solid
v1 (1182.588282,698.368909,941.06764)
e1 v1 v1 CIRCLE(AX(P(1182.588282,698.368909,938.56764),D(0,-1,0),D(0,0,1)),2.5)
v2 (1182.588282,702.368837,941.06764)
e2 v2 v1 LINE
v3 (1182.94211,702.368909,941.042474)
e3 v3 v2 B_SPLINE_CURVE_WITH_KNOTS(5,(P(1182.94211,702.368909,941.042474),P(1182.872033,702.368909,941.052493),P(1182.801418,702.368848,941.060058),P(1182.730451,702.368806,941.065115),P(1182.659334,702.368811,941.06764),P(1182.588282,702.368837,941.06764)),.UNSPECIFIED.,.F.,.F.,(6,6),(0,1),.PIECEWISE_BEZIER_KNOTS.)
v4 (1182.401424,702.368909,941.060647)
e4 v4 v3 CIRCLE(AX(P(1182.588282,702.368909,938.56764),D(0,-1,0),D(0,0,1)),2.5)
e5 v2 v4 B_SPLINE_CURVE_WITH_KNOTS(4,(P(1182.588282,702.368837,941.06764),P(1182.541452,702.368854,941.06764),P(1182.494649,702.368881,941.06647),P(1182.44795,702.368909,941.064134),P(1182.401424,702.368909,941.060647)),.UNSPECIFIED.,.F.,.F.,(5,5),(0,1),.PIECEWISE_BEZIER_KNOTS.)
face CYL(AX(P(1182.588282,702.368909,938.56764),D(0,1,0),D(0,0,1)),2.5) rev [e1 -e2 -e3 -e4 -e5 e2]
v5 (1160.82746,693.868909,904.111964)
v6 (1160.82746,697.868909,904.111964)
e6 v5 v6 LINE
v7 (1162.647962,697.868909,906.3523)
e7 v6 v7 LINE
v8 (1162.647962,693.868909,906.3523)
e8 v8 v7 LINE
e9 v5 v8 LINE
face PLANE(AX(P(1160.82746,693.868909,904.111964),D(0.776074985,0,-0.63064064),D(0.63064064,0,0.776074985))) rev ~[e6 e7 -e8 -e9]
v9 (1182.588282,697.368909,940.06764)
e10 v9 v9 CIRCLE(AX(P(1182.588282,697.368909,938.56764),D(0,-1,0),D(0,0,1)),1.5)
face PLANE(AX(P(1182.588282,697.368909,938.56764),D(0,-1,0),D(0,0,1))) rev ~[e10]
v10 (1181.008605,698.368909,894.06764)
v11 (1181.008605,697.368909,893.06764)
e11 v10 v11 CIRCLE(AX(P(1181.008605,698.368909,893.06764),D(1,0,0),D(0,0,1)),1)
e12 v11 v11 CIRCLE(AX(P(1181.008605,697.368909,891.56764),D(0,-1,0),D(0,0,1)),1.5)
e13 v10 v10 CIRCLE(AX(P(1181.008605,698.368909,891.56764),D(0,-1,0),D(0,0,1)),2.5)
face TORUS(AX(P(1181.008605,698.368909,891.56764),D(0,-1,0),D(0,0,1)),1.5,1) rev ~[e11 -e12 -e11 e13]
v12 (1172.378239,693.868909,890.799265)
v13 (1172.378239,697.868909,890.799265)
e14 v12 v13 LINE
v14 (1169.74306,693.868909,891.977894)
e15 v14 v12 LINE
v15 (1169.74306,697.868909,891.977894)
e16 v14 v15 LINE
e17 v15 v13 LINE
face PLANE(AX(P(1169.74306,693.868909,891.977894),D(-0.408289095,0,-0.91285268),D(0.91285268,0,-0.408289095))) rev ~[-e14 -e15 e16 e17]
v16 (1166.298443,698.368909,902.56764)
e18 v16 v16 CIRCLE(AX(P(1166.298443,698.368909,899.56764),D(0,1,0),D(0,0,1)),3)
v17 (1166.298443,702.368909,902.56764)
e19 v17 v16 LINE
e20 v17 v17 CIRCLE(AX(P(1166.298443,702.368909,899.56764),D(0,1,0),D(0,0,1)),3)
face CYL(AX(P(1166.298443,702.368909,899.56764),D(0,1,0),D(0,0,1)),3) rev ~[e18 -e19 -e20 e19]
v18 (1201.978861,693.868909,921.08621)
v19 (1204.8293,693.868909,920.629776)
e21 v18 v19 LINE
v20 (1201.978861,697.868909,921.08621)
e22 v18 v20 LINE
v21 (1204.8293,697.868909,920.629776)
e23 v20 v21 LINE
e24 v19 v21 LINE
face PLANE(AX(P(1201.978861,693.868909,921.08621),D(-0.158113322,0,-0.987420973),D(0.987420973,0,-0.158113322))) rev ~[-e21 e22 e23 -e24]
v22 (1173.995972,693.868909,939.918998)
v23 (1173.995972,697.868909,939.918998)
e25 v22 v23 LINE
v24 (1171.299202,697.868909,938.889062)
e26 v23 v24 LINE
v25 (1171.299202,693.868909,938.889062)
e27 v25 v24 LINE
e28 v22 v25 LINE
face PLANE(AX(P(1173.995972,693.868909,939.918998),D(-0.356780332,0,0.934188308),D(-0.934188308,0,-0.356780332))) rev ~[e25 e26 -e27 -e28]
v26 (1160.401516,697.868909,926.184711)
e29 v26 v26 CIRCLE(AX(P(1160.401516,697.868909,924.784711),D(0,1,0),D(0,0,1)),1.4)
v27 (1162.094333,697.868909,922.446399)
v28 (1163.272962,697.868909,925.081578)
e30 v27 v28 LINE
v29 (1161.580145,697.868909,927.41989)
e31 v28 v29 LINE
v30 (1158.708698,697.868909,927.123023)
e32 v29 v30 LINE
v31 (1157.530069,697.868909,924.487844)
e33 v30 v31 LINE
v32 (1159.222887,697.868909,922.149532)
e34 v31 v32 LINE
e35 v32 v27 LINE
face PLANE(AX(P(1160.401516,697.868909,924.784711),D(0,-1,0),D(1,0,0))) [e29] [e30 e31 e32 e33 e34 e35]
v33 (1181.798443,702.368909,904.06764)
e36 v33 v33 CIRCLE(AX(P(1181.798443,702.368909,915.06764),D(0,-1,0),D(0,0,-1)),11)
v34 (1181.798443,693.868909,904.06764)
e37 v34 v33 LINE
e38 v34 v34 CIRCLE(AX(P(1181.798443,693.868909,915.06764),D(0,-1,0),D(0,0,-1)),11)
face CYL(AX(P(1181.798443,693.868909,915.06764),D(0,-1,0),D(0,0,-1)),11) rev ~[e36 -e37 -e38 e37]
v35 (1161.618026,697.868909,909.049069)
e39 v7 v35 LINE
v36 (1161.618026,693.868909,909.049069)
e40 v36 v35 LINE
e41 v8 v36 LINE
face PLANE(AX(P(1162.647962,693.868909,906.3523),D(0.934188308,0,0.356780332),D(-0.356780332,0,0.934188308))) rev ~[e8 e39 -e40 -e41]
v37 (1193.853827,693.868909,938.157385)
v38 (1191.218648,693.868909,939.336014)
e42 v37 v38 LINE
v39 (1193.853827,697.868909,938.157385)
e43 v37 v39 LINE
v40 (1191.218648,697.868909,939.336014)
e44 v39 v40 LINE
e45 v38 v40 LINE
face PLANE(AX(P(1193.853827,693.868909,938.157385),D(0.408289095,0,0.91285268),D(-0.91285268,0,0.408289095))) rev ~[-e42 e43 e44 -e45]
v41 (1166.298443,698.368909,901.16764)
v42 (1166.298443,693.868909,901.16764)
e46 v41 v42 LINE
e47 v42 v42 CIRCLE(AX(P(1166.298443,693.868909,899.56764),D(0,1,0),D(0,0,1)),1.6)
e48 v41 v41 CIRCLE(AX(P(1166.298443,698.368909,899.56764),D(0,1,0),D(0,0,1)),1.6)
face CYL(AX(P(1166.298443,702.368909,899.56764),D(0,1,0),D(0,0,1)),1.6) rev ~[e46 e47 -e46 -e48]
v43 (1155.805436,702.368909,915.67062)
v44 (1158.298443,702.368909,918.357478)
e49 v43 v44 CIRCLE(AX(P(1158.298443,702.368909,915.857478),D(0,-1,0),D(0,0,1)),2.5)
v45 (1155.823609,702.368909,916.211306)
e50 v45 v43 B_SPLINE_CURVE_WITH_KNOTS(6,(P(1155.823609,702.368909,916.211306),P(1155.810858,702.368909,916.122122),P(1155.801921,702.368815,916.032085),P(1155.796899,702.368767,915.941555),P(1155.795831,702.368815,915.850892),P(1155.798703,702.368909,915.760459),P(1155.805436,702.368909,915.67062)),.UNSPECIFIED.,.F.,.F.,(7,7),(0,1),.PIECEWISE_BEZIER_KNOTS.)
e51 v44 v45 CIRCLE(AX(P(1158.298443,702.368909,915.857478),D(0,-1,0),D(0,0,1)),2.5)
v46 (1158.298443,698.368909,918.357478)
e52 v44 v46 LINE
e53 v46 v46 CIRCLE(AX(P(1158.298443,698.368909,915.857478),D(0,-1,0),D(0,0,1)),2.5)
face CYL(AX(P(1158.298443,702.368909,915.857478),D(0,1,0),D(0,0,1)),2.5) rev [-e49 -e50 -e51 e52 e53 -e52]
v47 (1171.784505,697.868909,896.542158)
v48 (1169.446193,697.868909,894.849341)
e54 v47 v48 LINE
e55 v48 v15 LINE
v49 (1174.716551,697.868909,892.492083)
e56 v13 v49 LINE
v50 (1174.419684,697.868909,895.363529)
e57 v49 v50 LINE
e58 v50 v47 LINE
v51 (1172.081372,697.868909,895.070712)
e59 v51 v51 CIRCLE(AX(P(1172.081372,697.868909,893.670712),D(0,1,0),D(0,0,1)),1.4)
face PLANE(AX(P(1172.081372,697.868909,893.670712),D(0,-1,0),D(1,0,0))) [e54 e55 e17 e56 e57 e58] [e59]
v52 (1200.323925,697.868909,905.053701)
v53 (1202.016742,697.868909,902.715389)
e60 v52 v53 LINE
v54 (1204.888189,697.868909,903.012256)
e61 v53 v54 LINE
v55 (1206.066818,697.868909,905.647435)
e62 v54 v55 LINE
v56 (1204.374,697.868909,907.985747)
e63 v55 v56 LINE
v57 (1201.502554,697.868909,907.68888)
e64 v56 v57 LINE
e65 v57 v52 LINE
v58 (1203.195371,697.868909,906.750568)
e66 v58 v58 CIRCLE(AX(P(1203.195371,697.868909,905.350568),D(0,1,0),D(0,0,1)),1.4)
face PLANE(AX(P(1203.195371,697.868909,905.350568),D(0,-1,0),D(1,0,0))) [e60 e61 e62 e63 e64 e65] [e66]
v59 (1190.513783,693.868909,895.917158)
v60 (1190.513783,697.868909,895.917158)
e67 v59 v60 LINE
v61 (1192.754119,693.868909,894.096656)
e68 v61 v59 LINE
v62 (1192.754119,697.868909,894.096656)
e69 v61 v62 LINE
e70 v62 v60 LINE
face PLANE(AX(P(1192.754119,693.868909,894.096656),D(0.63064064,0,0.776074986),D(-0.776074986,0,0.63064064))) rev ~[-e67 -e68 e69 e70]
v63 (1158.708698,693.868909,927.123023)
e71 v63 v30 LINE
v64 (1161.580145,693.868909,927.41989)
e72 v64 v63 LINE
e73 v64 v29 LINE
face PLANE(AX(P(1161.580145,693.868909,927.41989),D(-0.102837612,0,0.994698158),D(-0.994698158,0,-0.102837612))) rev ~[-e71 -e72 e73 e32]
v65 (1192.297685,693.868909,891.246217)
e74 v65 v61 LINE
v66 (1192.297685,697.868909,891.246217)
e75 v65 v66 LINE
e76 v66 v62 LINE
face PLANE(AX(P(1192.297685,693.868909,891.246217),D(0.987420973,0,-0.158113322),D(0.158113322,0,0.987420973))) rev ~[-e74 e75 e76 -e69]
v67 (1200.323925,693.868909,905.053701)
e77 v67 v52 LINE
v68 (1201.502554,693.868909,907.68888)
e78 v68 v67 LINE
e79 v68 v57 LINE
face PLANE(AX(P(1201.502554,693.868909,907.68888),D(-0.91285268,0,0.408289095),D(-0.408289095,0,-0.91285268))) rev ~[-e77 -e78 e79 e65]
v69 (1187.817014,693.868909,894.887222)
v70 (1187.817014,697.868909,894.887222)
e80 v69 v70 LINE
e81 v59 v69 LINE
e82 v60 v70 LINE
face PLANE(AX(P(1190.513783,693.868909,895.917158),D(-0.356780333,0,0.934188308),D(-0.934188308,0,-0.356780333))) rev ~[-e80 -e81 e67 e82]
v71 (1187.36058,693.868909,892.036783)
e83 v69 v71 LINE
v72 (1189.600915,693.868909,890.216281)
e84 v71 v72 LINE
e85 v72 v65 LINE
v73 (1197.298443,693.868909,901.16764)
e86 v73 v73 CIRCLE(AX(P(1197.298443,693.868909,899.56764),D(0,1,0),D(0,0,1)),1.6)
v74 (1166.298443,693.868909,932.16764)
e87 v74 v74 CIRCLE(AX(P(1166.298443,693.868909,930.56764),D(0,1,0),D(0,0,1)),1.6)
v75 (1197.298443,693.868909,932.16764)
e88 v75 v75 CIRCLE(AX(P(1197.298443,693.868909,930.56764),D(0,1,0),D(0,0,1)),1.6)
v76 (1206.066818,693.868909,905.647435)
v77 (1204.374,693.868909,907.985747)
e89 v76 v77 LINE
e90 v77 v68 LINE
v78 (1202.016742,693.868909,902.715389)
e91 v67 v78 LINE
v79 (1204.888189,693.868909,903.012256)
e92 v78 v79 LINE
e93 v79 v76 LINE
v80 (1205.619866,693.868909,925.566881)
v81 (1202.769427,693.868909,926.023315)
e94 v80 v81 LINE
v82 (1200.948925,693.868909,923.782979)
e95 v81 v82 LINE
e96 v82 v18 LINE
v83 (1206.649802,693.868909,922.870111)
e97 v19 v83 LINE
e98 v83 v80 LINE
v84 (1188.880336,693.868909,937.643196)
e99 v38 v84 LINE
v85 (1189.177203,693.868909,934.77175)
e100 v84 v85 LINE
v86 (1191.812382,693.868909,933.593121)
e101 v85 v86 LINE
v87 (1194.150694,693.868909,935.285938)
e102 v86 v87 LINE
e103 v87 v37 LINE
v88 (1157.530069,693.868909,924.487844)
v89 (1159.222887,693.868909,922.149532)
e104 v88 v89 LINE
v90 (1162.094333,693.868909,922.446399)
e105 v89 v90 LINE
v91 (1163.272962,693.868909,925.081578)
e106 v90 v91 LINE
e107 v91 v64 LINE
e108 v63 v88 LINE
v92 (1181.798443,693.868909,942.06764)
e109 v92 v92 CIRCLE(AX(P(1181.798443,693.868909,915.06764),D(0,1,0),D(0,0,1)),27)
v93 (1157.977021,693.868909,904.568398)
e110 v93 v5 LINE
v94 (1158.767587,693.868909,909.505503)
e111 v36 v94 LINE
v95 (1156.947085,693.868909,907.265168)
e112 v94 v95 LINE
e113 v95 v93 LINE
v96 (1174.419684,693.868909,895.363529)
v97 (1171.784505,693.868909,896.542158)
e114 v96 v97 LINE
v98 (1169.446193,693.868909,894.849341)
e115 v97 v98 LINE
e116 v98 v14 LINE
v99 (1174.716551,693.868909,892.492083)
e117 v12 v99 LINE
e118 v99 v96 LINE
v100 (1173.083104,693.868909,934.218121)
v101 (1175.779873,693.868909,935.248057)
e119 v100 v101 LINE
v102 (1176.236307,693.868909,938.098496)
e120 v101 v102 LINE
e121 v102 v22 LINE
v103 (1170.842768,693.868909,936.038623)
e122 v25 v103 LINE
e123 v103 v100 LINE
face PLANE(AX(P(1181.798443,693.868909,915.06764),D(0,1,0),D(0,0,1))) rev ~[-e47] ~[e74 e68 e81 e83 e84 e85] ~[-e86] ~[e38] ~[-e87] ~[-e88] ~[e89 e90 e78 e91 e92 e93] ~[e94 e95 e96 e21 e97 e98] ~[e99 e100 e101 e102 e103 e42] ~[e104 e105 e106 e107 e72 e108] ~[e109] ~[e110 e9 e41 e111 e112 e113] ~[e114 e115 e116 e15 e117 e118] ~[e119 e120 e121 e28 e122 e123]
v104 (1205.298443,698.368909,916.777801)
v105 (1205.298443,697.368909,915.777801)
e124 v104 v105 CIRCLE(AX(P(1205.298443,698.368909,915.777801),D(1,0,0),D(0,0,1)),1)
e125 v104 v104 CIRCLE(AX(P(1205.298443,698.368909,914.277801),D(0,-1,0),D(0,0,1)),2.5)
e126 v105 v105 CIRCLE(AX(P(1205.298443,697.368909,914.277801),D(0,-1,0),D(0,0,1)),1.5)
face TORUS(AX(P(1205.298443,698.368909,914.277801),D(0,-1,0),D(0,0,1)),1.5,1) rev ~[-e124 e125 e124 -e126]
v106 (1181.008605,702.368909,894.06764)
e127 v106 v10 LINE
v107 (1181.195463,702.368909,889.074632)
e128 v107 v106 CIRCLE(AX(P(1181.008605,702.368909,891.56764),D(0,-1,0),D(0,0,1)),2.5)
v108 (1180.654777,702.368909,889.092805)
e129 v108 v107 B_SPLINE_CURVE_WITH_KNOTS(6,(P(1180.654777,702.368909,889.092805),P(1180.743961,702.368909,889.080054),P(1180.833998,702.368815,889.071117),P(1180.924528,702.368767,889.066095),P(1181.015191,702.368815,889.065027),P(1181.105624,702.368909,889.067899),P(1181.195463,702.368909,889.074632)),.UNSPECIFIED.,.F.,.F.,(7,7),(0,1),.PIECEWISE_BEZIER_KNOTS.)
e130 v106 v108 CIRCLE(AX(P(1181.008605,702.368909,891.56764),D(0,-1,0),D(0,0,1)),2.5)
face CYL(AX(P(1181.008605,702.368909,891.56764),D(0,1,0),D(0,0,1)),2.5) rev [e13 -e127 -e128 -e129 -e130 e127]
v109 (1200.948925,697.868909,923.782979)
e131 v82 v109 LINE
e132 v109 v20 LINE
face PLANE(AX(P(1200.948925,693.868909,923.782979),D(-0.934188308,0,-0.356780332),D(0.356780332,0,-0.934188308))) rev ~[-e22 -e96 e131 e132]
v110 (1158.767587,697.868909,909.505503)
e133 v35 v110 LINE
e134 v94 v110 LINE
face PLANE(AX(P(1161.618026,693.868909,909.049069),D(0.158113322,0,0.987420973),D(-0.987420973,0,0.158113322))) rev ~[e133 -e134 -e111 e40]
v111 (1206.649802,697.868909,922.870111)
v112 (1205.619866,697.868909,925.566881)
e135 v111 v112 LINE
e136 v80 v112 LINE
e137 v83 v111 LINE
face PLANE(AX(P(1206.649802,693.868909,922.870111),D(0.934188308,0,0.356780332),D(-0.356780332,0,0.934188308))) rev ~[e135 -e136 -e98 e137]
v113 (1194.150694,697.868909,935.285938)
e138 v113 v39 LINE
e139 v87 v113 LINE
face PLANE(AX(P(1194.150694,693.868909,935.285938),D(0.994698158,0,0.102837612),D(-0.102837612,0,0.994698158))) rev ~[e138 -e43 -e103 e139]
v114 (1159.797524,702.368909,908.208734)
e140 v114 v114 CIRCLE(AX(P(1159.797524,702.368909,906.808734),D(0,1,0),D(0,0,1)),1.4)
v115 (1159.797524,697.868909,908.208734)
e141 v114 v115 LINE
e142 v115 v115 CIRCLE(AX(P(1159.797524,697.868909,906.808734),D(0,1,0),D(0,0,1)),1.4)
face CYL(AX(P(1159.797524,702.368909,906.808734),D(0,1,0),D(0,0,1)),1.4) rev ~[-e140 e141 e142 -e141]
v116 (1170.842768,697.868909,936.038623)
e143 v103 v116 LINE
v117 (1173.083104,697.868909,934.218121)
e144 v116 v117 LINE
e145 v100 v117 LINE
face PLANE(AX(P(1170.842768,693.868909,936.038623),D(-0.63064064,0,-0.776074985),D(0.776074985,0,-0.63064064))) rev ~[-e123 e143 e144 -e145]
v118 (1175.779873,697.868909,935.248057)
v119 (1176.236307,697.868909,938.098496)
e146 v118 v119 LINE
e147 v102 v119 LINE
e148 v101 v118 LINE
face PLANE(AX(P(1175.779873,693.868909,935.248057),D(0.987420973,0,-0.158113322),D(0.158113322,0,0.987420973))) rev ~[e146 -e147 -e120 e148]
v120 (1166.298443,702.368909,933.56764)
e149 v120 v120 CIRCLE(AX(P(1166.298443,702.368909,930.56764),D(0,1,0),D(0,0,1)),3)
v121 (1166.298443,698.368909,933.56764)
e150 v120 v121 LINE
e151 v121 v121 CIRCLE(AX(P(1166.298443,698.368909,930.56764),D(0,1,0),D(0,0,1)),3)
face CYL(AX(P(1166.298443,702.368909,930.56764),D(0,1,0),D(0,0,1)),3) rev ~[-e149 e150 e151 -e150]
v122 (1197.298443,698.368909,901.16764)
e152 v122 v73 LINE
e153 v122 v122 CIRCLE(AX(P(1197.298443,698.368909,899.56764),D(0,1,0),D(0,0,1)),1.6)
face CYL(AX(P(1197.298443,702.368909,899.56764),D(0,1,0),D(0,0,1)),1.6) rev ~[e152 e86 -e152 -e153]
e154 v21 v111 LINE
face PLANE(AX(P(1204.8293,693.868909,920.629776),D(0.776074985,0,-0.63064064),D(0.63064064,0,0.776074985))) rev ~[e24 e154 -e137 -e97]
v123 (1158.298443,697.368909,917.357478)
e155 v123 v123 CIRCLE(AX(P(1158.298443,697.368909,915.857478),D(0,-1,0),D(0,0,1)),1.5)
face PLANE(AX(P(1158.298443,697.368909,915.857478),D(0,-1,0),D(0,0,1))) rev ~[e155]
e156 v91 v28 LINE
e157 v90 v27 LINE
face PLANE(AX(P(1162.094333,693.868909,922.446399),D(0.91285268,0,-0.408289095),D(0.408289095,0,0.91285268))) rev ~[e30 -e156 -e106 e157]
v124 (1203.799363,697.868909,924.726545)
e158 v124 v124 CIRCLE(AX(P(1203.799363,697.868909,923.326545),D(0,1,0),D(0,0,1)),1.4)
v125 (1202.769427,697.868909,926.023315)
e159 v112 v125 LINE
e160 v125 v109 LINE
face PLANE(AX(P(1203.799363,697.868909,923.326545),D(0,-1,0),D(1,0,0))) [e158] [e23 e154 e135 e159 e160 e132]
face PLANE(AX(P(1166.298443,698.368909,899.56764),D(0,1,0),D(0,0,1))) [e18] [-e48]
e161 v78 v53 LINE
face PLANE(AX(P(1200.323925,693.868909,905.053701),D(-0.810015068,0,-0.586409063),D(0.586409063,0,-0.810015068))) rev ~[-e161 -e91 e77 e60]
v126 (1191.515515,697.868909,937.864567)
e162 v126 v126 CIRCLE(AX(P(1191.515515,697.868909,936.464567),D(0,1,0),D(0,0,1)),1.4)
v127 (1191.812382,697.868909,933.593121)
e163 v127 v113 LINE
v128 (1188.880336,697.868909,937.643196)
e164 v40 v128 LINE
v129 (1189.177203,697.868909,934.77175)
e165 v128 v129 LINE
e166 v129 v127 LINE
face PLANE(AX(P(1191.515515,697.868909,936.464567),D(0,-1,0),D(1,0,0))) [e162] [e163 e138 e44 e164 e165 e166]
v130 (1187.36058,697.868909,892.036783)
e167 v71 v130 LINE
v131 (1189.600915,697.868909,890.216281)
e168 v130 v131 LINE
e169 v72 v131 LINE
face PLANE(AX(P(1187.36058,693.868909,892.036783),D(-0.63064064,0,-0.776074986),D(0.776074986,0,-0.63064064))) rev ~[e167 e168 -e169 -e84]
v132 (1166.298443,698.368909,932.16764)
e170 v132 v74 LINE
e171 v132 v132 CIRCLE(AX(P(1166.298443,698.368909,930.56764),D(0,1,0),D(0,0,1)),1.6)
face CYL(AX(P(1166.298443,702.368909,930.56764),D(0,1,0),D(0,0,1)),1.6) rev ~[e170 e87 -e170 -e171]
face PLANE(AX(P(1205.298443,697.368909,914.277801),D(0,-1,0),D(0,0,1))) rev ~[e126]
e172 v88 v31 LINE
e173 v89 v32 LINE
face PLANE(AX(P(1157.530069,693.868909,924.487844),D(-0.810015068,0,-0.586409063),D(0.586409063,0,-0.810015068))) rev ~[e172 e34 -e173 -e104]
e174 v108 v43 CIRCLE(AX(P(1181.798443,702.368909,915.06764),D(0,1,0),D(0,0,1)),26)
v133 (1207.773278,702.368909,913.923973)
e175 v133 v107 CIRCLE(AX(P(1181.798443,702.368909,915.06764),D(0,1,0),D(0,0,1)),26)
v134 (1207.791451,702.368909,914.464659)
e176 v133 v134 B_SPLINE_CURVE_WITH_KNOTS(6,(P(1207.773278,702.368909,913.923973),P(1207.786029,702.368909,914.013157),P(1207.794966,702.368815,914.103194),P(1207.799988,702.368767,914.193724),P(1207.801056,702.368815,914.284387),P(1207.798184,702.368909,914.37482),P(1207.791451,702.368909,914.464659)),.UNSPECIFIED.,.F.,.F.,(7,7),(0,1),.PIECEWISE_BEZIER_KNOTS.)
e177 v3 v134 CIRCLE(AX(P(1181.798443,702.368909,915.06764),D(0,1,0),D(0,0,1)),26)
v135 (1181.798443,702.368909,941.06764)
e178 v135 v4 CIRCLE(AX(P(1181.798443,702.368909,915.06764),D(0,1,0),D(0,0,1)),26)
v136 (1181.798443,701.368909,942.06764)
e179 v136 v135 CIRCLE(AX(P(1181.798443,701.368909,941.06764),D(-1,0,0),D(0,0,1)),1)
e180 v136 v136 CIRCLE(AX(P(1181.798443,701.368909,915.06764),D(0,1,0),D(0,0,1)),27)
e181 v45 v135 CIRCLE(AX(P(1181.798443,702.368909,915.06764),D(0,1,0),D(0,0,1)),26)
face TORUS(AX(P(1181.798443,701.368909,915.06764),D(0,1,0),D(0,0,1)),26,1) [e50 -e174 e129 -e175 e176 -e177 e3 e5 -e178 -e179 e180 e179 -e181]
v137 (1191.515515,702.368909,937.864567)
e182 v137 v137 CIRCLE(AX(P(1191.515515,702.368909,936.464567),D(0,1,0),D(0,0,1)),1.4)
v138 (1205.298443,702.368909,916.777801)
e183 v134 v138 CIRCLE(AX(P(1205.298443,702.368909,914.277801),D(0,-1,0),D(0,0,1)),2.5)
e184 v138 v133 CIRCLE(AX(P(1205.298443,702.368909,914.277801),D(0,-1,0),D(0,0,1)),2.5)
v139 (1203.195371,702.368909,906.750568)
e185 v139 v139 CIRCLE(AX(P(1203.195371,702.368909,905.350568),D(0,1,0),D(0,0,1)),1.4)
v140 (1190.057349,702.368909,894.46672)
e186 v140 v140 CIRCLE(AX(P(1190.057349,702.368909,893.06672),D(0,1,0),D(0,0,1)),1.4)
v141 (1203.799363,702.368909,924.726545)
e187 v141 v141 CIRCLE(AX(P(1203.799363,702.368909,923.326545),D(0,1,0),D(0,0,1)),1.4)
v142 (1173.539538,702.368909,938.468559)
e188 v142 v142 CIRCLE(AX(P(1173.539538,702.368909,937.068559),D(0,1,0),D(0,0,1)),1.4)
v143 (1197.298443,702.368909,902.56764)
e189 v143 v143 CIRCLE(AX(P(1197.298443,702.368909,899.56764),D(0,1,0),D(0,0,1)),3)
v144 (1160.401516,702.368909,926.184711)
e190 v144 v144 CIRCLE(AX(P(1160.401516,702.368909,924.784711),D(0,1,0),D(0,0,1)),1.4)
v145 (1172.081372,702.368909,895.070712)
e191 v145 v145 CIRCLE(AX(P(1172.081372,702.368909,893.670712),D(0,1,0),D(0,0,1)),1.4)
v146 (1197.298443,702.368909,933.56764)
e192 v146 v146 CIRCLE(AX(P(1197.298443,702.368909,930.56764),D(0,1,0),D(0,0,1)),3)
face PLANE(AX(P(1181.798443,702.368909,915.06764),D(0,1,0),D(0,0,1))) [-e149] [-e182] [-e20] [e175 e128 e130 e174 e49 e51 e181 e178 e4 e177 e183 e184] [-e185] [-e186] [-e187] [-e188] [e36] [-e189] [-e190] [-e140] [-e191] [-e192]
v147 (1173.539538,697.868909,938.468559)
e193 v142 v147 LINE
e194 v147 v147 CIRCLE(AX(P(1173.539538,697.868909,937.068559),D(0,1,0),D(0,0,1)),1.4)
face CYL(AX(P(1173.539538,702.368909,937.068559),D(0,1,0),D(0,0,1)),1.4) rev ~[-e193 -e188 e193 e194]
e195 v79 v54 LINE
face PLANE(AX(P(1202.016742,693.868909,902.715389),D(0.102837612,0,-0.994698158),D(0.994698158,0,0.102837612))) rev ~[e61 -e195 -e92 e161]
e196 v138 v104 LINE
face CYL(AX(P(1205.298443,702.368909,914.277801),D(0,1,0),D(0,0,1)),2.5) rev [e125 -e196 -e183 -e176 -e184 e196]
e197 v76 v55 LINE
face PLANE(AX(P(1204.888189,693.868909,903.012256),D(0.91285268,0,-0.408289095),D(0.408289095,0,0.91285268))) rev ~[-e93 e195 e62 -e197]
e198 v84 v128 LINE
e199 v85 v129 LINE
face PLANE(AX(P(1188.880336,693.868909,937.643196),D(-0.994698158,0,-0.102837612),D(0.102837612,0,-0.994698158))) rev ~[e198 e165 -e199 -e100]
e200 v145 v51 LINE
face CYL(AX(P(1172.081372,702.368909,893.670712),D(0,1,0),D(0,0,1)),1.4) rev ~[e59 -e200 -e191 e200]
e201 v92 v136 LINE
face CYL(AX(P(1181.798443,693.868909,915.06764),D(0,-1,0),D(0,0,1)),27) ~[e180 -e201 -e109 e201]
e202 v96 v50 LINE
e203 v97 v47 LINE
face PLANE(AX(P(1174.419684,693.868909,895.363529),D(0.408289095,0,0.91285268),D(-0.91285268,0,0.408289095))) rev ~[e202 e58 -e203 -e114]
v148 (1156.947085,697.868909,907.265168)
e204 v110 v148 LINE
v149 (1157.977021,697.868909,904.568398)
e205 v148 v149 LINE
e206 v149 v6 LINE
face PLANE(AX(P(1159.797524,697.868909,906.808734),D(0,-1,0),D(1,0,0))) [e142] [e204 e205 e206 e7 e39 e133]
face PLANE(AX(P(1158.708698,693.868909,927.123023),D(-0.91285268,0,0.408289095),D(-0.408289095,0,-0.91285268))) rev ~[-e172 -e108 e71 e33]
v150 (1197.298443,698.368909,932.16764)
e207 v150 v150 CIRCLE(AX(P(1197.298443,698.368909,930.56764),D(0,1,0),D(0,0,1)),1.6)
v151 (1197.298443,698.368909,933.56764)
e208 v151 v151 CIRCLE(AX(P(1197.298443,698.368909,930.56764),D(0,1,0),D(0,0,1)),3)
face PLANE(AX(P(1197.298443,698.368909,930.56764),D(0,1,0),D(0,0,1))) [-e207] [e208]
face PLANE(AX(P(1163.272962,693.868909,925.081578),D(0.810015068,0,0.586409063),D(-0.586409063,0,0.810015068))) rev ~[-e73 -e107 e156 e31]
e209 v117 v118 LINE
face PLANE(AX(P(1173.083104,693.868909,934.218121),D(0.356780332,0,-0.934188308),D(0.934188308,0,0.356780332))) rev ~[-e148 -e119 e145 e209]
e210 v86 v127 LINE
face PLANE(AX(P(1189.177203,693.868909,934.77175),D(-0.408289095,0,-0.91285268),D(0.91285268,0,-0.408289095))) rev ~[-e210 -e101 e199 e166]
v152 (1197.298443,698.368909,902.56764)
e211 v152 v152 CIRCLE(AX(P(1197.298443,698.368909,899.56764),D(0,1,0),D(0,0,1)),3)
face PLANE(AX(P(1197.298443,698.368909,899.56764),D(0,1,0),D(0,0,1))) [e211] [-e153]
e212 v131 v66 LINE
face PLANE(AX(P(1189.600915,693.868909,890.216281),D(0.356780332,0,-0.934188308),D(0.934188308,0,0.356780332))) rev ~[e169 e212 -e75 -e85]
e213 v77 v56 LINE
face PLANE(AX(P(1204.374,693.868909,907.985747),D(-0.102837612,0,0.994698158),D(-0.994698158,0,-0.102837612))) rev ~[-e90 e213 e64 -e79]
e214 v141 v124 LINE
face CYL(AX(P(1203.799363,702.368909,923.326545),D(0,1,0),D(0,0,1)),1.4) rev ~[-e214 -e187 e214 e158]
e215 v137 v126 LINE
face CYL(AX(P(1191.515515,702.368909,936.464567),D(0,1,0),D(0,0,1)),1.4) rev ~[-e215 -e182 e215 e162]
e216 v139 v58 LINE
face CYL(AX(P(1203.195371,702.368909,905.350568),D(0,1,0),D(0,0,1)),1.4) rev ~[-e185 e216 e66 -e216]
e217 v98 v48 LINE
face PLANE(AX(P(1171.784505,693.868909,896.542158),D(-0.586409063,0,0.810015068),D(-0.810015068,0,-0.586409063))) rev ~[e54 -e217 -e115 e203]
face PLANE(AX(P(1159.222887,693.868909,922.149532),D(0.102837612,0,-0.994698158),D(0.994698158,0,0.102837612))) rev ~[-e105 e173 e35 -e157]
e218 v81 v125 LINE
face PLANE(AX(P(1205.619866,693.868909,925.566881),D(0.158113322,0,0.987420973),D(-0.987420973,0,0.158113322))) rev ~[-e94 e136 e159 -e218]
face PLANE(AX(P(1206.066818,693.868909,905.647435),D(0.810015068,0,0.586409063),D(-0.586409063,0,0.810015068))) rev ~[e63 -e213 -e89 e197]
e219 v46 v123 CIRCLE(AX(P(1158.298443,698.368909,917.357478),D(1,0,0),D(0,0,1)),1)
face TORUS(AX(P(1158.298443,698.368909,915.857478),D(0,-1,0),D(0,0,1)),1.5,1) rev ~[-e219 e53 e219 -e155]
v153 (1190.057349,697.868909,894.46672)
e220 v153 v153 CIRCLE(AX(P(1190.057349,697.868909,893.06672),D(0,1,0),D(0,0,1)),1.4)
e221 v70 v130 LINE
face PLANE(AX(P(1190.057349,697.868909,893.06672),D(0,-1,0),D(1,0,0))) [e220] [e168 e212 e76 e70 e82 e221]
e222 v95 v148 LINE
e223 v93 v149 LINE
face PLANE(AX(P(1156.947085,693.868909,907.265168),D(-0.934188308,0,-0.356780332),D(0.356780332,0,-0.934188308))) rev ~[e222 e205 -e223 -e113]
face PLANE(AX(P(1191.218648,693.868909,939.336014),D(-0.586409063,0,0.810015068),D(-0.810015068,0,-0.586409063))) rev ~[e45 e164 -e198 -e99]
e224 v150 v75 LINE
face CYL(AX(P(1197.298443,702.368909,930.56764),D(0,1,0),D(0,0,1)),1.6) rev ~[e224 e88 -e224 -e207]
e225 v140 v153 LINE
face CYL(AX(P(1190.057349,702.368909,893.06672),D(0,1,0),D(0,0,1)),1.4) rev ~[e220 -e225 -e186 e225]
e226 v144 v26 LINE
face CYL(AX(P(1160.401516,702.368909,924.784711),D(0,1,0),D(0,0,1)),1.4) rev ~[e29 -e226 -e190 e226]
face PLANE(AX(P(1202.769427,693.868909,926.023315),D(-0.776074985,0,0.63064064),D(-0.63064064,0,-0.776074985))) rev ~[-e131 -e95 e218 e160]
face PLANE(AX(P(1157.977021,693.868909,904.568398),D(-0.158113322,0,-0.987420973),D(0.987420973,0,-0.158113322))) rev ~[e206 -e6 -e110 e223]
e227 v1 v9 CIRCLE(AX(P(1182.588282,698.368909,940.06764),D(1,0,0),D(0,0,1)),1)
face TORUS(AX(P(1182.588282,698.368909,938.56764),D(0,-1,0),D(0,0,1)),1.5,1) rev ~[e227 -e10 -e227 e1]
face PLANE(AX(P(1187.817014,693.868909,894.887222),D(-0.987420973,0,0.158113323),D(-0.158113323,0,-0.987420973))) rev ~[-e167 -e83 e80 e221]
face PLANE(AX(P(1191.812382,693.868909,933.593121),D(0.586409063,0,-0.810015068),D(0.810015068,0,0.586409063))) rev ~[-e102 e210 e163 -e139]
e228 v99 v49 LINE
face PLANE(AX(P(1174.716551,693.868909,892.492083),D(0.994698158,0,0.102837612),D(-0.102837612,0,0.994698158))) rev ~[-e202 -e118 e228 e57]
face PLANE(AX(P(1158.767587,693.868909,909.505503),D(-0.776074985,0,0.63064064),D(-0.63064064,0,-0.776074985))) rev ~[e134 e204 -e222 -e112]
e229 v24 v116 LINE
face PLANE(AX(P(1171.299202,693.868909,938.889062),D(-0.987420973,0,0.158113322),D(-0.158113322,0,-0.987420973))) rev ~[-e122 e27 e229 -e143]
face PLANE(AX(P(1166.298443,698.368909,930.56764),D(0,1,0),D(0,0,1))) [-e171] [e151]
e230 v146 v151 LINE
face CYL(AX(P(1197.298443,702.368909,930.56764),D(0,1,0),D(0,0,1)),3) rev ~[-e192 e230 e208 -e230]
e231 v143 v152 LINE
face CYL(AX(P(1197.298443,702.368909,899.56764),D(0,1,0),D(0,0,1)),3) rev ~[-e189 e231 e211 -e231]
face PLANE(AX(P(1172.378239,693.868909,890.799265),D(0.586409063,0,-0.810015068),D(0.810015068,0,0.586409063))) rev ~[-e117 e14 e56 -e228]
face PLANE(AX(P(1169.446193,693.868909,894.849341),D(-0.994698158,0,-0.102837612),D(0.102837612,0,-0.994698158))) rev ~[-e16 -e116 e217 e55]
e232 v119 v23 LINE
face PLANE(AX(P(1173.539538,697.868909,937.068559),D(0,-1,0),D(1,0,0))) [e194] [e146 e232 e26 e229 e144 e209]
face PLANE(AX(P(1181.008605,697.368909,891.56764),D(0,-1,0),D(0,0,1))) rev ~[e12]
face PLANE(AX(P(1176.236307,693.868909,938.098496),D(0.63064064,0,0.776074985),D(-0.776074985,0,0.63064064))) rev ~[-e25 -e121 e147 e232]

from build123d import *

# Parameters (mm, degrees)
SKETCH2_R                      = 27
BOSS_EXTRUDE1_DEPTH            = 8.5
SKETCH3_R                      = 1.6
NEMA_MOUNTS_HOLES_M3_DEPTH     = 8.5
SKETCH3_4_R                    = 3
NEMA_MOUNT_HOLES_CAP_6MM_DEPTH = 4
SKETCH5_R                      = 1.4
REDUCER_HOLES_M2_5_DEPTH       = 8.5
REDUCER_NUTS_M2_5_DEPTH        = 4
SKETCH9_R                      = 11
SHAFT_SKIRT_22MM_DEPTH         = 8.5
FILLET1_R                      = 1
CUT_EXTRUDE1_START             = -8.5
SKETCH10_R                     = 2.5
CUT_EXTRUDE1_DEPTH             = 5
FILLET3_R                      = 1


with BuildPart() as part:
    # Sketch2 → Boss-Extrude1 (new body)
    with BuildSketch(Plane(origin=(0, 693.868908512, 0), x_dir=(-1, 0, 0), z_dir=(0, 1, 0))):
        with Locations(Location((-1181.798443484, 915.067639521, 0), (0, 0, 90))):
            Circle(SKETCH2_R)
    extrude(amount=BOSS_EXTRUDE1_DEPTH)

    # Sketch3 → Nema_Mounts_holes_M3 (cut)
    with BuildSketch(Plane(origin=(0, 702.368908512, 0), x_dir=(-1, 0, 0), z_dir=(0, 1, 0))):
        with Locations(Location((-1197.298443484, 930.567639521, 0), (0, 0, 90))):
            Circle(SKETCH3_R)
        with Locations(Location((-1166.298443484, 930.567639521, 0), (0, 0, 90))):
            Circle(SKETCH3_R)
        with Locations(Location((-1197.298443484, 899.567639521, 0), (0, 0, 90))):
            Circle(SKETCH3_R)
        with Locations(Location((-1166.298443484, 899.567639521, 0), (0, 0, 90))):
            Circle(SKETCH3_R)
    extrude(amount=-NEMA_MOUNTS_HOLES_M3_DEPTH, mode=Mode.SUBTRACT)

    # Sketch3<4> → Nema_Mount_holes_cap_6mm (cut)
    with BuildSketch(Plane(origin=(0, 702.368908512, 0), x_dir=(-1, 0, 0), z_dir=(0, 1, 0))):
        with Locations(Location((-1197.298443484, 930.567639521, 0), (0, 0, 90))):
            Circle(SKETCH3_4_R)
        with Locations(Location((-1166.298443484, 930.567639521, 0), (0, 0, 90))):
            Circle(SKETCH3_4_R)
        with Locations(Location((-1197.298443484, 899.567639521, 0), (0, 0, 90))):
            Circle(SKETCH3_4_R)
        with Locations(Location((-1166.298443484, 899.567639521, 0), (0, 0, 90))):
            Circle(SKETCH3_4_R)
    extrude(amount=-NEMA_MOUNT_HOLES_CAP_6MM_DEPTH, mode=Mode.SUBTRACT)

    # Sketch5 → Reducer_Holes_M2.5 (cut)
    with BuildSketch(Plane(origin=(0, 702.368908512, 0), x_dir=(-1, 0, 0), z_dir=(0, 1, 0))):
        with Locations(Location((-1160.401515615, 924.78471098, 0), (0, 0, 90))):
            Circle(SKETCH5_R)
        with Locations(Location((-1159.797523569, 906.80873385, 0), (0, 0, 90))):
            Circle(SKETCH5_R)
        with Locations(Location((-1172.081372025, 893.670711651, 0), (0, 0, 90))):
            Circle(SKETCH5_R)
        with Locations(Location((-1190.057349155, 893.066719605, 0), (0, 0, 90))):
            Circle(SKETCH5_R)
        with Locations(Location((-1203.195371354, 905.350568061, 0), (0, 0, 90))):
            Circle(SKETCH5_R)
        with Locations(Location((-1203.7993634, 923.326545192, 0), (0, 0, 90))):
            Circle(SKETCH5_R)
        with Locations(Location((-1191.515514944, 936.46456739, 0), (0, 0, 90))):
            Circle(SKETCH5_R)
        with Locations(Location((-1173.539537814, 937.068559436, 0), (0, 0, 90))):
            Circle(SKETCH5_R)
    extrude(amount=-REDUCER_HOLES_M2_5_DEPTH, mode=Mode.SUBTRACT)

    # Sketch6 → Reducer_Nuts_M2.5 (cut)
    with BuildSketch(Plane.XZ.offset(-693.868908512)):
        Polygon((1176.236307168, 938.098495541), (1173.99597166, 939.918998258), (1171.299202305, 938.889062153), (1170.842768459, 936.038623331), (1173.083103967, 934.218120614), (1175.779873322, 935.248056719), align=None)
        Polygon((1162.094332768, 922.446398892), (1163.272961862, 925.081577594), (1161.580144709, 927.419889682), (1158.708698462, 927.123023068), (1157.530069368, 924.487844366), (1159.222886521, 922.149532278), align=None)
        Polygon((1194.150693646, 935.285938296), (1193.853827032, 938.157384543), (1191.21864833, 939.336013637), (1188.880336242, 937.643196484), (1189.177202856, 934.771750238), (1191.812381558, 933.593121144), align=None)
        Polygon((1204.829299505, 920.629775837), (1206.649802222, 922.870111345), (1205.619866117, 925.5668807), (1202.769427295, 926.023314546), (1200.948924578, 923.782979038), (1201.978860683, 921.086209683), align=None)
        Polygon((1202.01674226, 902.715389359), (1204.888188506, 903.012255973), (1206.0668176, 905.647434675), (1204.374000448, 907.985746763), (1201.502554201, 907.688880149), (1200.323925107, 905.053701447), align=None)
        Polygon((1187.3605798, 892.0367835), (1189.600915309, 890.216280784), (1192.297684664, 891.246216889), (1192.75411851, 894.096655711), (1190.513783001, 895.917158427), (1187.817013647, 894.887222322), align=None)
        Polygon((1169.446193323, 894.849340745), (1169.743059937, 891.977894499), (1172.378238639, 890.799265405), (1174.716550727, 892.492082557), (1174.419684113, 895.363528804), (1171.784505411, 896.542157898), align=None)
        Polygon((1158.767587464, 909.505503205), (1156.947084747, 907.265167696), (1157.977020852, 904.568398341), (1160.827459674, 904.111964495), (1162.647962391, 906.352300004), (1161.618026286, 909.049069359), align=None)
    extrude(amount=-REDUCER_NUTS_M2_5_DEPTH, mode=Mode.SUBTRACT)

    # Sketch9 → Shaft_skirt_22mm (cut)
    with BuildSketch(Plane(origin=(0, 693.868908512, 0), x_dir=(-1, 0, 0), z_dir=(0, -1, 0))):
        with Locations(Location((-1181.798443484, -915.067639521, 0), (0, 0, 90))):
            Circle(SKETCH9_R)
    extrude(amount=-SHAFT_SKIRT_22MM_DEPTH, mode=Mode.SUBTRACT)

    # Fillet1
    fillet1_edges = [part.edges().sort_by_distance(p)[0] for p in [
        (1181.798443484, 702.368908512, 888.067639521),
    ]]
    fillet(fillet1_edges, radius=FILLET1_R)

    # Sketch10 → Cut-Extrude1 (cut)
    with BuildSketch(Plane.XZ.offset(-693.868908512).offset(CUT_EXTRUDE1_START)):
        with Locations(Location((1182.58828203, 938.567639521, 0), (0, 0, 90))):
            Circle(SKETCH10_R)
        with Locations(Location((1205.298443484, 914.277800975, 0), (0, 0, 90))):
            Circle(SKETCH10_R)
        with Locations(Location((1181.008604939, 891.567639521, 0), (0, 0, 90))):
            Circle(SKETCH10_R)
        with Locations(Location((1158.298443484, 915.857478067, 0), (0, 0, 90))):
            Circle(SKETCH10_R)
    extrude(amount=CUT_EXTRUDE1_DEPTH, mode=Mode.SUBTRACT)

    # Fillet3
    fillet3_edges = [part.edges().sort_by_distance(p)[0] for p in [
        (1182.58828203, 697.368908512, 936.067639521),
        (1205.298443484, 697.368908512, 911.777800975),
        (1181.008604939, 697.368908512, 889.067639521),
        (1158.298443484, 697.368908512, 913.357478067),
    ]]
    fillet(fillet3_edges, radius=FILLET3_R)


solid = part.part
